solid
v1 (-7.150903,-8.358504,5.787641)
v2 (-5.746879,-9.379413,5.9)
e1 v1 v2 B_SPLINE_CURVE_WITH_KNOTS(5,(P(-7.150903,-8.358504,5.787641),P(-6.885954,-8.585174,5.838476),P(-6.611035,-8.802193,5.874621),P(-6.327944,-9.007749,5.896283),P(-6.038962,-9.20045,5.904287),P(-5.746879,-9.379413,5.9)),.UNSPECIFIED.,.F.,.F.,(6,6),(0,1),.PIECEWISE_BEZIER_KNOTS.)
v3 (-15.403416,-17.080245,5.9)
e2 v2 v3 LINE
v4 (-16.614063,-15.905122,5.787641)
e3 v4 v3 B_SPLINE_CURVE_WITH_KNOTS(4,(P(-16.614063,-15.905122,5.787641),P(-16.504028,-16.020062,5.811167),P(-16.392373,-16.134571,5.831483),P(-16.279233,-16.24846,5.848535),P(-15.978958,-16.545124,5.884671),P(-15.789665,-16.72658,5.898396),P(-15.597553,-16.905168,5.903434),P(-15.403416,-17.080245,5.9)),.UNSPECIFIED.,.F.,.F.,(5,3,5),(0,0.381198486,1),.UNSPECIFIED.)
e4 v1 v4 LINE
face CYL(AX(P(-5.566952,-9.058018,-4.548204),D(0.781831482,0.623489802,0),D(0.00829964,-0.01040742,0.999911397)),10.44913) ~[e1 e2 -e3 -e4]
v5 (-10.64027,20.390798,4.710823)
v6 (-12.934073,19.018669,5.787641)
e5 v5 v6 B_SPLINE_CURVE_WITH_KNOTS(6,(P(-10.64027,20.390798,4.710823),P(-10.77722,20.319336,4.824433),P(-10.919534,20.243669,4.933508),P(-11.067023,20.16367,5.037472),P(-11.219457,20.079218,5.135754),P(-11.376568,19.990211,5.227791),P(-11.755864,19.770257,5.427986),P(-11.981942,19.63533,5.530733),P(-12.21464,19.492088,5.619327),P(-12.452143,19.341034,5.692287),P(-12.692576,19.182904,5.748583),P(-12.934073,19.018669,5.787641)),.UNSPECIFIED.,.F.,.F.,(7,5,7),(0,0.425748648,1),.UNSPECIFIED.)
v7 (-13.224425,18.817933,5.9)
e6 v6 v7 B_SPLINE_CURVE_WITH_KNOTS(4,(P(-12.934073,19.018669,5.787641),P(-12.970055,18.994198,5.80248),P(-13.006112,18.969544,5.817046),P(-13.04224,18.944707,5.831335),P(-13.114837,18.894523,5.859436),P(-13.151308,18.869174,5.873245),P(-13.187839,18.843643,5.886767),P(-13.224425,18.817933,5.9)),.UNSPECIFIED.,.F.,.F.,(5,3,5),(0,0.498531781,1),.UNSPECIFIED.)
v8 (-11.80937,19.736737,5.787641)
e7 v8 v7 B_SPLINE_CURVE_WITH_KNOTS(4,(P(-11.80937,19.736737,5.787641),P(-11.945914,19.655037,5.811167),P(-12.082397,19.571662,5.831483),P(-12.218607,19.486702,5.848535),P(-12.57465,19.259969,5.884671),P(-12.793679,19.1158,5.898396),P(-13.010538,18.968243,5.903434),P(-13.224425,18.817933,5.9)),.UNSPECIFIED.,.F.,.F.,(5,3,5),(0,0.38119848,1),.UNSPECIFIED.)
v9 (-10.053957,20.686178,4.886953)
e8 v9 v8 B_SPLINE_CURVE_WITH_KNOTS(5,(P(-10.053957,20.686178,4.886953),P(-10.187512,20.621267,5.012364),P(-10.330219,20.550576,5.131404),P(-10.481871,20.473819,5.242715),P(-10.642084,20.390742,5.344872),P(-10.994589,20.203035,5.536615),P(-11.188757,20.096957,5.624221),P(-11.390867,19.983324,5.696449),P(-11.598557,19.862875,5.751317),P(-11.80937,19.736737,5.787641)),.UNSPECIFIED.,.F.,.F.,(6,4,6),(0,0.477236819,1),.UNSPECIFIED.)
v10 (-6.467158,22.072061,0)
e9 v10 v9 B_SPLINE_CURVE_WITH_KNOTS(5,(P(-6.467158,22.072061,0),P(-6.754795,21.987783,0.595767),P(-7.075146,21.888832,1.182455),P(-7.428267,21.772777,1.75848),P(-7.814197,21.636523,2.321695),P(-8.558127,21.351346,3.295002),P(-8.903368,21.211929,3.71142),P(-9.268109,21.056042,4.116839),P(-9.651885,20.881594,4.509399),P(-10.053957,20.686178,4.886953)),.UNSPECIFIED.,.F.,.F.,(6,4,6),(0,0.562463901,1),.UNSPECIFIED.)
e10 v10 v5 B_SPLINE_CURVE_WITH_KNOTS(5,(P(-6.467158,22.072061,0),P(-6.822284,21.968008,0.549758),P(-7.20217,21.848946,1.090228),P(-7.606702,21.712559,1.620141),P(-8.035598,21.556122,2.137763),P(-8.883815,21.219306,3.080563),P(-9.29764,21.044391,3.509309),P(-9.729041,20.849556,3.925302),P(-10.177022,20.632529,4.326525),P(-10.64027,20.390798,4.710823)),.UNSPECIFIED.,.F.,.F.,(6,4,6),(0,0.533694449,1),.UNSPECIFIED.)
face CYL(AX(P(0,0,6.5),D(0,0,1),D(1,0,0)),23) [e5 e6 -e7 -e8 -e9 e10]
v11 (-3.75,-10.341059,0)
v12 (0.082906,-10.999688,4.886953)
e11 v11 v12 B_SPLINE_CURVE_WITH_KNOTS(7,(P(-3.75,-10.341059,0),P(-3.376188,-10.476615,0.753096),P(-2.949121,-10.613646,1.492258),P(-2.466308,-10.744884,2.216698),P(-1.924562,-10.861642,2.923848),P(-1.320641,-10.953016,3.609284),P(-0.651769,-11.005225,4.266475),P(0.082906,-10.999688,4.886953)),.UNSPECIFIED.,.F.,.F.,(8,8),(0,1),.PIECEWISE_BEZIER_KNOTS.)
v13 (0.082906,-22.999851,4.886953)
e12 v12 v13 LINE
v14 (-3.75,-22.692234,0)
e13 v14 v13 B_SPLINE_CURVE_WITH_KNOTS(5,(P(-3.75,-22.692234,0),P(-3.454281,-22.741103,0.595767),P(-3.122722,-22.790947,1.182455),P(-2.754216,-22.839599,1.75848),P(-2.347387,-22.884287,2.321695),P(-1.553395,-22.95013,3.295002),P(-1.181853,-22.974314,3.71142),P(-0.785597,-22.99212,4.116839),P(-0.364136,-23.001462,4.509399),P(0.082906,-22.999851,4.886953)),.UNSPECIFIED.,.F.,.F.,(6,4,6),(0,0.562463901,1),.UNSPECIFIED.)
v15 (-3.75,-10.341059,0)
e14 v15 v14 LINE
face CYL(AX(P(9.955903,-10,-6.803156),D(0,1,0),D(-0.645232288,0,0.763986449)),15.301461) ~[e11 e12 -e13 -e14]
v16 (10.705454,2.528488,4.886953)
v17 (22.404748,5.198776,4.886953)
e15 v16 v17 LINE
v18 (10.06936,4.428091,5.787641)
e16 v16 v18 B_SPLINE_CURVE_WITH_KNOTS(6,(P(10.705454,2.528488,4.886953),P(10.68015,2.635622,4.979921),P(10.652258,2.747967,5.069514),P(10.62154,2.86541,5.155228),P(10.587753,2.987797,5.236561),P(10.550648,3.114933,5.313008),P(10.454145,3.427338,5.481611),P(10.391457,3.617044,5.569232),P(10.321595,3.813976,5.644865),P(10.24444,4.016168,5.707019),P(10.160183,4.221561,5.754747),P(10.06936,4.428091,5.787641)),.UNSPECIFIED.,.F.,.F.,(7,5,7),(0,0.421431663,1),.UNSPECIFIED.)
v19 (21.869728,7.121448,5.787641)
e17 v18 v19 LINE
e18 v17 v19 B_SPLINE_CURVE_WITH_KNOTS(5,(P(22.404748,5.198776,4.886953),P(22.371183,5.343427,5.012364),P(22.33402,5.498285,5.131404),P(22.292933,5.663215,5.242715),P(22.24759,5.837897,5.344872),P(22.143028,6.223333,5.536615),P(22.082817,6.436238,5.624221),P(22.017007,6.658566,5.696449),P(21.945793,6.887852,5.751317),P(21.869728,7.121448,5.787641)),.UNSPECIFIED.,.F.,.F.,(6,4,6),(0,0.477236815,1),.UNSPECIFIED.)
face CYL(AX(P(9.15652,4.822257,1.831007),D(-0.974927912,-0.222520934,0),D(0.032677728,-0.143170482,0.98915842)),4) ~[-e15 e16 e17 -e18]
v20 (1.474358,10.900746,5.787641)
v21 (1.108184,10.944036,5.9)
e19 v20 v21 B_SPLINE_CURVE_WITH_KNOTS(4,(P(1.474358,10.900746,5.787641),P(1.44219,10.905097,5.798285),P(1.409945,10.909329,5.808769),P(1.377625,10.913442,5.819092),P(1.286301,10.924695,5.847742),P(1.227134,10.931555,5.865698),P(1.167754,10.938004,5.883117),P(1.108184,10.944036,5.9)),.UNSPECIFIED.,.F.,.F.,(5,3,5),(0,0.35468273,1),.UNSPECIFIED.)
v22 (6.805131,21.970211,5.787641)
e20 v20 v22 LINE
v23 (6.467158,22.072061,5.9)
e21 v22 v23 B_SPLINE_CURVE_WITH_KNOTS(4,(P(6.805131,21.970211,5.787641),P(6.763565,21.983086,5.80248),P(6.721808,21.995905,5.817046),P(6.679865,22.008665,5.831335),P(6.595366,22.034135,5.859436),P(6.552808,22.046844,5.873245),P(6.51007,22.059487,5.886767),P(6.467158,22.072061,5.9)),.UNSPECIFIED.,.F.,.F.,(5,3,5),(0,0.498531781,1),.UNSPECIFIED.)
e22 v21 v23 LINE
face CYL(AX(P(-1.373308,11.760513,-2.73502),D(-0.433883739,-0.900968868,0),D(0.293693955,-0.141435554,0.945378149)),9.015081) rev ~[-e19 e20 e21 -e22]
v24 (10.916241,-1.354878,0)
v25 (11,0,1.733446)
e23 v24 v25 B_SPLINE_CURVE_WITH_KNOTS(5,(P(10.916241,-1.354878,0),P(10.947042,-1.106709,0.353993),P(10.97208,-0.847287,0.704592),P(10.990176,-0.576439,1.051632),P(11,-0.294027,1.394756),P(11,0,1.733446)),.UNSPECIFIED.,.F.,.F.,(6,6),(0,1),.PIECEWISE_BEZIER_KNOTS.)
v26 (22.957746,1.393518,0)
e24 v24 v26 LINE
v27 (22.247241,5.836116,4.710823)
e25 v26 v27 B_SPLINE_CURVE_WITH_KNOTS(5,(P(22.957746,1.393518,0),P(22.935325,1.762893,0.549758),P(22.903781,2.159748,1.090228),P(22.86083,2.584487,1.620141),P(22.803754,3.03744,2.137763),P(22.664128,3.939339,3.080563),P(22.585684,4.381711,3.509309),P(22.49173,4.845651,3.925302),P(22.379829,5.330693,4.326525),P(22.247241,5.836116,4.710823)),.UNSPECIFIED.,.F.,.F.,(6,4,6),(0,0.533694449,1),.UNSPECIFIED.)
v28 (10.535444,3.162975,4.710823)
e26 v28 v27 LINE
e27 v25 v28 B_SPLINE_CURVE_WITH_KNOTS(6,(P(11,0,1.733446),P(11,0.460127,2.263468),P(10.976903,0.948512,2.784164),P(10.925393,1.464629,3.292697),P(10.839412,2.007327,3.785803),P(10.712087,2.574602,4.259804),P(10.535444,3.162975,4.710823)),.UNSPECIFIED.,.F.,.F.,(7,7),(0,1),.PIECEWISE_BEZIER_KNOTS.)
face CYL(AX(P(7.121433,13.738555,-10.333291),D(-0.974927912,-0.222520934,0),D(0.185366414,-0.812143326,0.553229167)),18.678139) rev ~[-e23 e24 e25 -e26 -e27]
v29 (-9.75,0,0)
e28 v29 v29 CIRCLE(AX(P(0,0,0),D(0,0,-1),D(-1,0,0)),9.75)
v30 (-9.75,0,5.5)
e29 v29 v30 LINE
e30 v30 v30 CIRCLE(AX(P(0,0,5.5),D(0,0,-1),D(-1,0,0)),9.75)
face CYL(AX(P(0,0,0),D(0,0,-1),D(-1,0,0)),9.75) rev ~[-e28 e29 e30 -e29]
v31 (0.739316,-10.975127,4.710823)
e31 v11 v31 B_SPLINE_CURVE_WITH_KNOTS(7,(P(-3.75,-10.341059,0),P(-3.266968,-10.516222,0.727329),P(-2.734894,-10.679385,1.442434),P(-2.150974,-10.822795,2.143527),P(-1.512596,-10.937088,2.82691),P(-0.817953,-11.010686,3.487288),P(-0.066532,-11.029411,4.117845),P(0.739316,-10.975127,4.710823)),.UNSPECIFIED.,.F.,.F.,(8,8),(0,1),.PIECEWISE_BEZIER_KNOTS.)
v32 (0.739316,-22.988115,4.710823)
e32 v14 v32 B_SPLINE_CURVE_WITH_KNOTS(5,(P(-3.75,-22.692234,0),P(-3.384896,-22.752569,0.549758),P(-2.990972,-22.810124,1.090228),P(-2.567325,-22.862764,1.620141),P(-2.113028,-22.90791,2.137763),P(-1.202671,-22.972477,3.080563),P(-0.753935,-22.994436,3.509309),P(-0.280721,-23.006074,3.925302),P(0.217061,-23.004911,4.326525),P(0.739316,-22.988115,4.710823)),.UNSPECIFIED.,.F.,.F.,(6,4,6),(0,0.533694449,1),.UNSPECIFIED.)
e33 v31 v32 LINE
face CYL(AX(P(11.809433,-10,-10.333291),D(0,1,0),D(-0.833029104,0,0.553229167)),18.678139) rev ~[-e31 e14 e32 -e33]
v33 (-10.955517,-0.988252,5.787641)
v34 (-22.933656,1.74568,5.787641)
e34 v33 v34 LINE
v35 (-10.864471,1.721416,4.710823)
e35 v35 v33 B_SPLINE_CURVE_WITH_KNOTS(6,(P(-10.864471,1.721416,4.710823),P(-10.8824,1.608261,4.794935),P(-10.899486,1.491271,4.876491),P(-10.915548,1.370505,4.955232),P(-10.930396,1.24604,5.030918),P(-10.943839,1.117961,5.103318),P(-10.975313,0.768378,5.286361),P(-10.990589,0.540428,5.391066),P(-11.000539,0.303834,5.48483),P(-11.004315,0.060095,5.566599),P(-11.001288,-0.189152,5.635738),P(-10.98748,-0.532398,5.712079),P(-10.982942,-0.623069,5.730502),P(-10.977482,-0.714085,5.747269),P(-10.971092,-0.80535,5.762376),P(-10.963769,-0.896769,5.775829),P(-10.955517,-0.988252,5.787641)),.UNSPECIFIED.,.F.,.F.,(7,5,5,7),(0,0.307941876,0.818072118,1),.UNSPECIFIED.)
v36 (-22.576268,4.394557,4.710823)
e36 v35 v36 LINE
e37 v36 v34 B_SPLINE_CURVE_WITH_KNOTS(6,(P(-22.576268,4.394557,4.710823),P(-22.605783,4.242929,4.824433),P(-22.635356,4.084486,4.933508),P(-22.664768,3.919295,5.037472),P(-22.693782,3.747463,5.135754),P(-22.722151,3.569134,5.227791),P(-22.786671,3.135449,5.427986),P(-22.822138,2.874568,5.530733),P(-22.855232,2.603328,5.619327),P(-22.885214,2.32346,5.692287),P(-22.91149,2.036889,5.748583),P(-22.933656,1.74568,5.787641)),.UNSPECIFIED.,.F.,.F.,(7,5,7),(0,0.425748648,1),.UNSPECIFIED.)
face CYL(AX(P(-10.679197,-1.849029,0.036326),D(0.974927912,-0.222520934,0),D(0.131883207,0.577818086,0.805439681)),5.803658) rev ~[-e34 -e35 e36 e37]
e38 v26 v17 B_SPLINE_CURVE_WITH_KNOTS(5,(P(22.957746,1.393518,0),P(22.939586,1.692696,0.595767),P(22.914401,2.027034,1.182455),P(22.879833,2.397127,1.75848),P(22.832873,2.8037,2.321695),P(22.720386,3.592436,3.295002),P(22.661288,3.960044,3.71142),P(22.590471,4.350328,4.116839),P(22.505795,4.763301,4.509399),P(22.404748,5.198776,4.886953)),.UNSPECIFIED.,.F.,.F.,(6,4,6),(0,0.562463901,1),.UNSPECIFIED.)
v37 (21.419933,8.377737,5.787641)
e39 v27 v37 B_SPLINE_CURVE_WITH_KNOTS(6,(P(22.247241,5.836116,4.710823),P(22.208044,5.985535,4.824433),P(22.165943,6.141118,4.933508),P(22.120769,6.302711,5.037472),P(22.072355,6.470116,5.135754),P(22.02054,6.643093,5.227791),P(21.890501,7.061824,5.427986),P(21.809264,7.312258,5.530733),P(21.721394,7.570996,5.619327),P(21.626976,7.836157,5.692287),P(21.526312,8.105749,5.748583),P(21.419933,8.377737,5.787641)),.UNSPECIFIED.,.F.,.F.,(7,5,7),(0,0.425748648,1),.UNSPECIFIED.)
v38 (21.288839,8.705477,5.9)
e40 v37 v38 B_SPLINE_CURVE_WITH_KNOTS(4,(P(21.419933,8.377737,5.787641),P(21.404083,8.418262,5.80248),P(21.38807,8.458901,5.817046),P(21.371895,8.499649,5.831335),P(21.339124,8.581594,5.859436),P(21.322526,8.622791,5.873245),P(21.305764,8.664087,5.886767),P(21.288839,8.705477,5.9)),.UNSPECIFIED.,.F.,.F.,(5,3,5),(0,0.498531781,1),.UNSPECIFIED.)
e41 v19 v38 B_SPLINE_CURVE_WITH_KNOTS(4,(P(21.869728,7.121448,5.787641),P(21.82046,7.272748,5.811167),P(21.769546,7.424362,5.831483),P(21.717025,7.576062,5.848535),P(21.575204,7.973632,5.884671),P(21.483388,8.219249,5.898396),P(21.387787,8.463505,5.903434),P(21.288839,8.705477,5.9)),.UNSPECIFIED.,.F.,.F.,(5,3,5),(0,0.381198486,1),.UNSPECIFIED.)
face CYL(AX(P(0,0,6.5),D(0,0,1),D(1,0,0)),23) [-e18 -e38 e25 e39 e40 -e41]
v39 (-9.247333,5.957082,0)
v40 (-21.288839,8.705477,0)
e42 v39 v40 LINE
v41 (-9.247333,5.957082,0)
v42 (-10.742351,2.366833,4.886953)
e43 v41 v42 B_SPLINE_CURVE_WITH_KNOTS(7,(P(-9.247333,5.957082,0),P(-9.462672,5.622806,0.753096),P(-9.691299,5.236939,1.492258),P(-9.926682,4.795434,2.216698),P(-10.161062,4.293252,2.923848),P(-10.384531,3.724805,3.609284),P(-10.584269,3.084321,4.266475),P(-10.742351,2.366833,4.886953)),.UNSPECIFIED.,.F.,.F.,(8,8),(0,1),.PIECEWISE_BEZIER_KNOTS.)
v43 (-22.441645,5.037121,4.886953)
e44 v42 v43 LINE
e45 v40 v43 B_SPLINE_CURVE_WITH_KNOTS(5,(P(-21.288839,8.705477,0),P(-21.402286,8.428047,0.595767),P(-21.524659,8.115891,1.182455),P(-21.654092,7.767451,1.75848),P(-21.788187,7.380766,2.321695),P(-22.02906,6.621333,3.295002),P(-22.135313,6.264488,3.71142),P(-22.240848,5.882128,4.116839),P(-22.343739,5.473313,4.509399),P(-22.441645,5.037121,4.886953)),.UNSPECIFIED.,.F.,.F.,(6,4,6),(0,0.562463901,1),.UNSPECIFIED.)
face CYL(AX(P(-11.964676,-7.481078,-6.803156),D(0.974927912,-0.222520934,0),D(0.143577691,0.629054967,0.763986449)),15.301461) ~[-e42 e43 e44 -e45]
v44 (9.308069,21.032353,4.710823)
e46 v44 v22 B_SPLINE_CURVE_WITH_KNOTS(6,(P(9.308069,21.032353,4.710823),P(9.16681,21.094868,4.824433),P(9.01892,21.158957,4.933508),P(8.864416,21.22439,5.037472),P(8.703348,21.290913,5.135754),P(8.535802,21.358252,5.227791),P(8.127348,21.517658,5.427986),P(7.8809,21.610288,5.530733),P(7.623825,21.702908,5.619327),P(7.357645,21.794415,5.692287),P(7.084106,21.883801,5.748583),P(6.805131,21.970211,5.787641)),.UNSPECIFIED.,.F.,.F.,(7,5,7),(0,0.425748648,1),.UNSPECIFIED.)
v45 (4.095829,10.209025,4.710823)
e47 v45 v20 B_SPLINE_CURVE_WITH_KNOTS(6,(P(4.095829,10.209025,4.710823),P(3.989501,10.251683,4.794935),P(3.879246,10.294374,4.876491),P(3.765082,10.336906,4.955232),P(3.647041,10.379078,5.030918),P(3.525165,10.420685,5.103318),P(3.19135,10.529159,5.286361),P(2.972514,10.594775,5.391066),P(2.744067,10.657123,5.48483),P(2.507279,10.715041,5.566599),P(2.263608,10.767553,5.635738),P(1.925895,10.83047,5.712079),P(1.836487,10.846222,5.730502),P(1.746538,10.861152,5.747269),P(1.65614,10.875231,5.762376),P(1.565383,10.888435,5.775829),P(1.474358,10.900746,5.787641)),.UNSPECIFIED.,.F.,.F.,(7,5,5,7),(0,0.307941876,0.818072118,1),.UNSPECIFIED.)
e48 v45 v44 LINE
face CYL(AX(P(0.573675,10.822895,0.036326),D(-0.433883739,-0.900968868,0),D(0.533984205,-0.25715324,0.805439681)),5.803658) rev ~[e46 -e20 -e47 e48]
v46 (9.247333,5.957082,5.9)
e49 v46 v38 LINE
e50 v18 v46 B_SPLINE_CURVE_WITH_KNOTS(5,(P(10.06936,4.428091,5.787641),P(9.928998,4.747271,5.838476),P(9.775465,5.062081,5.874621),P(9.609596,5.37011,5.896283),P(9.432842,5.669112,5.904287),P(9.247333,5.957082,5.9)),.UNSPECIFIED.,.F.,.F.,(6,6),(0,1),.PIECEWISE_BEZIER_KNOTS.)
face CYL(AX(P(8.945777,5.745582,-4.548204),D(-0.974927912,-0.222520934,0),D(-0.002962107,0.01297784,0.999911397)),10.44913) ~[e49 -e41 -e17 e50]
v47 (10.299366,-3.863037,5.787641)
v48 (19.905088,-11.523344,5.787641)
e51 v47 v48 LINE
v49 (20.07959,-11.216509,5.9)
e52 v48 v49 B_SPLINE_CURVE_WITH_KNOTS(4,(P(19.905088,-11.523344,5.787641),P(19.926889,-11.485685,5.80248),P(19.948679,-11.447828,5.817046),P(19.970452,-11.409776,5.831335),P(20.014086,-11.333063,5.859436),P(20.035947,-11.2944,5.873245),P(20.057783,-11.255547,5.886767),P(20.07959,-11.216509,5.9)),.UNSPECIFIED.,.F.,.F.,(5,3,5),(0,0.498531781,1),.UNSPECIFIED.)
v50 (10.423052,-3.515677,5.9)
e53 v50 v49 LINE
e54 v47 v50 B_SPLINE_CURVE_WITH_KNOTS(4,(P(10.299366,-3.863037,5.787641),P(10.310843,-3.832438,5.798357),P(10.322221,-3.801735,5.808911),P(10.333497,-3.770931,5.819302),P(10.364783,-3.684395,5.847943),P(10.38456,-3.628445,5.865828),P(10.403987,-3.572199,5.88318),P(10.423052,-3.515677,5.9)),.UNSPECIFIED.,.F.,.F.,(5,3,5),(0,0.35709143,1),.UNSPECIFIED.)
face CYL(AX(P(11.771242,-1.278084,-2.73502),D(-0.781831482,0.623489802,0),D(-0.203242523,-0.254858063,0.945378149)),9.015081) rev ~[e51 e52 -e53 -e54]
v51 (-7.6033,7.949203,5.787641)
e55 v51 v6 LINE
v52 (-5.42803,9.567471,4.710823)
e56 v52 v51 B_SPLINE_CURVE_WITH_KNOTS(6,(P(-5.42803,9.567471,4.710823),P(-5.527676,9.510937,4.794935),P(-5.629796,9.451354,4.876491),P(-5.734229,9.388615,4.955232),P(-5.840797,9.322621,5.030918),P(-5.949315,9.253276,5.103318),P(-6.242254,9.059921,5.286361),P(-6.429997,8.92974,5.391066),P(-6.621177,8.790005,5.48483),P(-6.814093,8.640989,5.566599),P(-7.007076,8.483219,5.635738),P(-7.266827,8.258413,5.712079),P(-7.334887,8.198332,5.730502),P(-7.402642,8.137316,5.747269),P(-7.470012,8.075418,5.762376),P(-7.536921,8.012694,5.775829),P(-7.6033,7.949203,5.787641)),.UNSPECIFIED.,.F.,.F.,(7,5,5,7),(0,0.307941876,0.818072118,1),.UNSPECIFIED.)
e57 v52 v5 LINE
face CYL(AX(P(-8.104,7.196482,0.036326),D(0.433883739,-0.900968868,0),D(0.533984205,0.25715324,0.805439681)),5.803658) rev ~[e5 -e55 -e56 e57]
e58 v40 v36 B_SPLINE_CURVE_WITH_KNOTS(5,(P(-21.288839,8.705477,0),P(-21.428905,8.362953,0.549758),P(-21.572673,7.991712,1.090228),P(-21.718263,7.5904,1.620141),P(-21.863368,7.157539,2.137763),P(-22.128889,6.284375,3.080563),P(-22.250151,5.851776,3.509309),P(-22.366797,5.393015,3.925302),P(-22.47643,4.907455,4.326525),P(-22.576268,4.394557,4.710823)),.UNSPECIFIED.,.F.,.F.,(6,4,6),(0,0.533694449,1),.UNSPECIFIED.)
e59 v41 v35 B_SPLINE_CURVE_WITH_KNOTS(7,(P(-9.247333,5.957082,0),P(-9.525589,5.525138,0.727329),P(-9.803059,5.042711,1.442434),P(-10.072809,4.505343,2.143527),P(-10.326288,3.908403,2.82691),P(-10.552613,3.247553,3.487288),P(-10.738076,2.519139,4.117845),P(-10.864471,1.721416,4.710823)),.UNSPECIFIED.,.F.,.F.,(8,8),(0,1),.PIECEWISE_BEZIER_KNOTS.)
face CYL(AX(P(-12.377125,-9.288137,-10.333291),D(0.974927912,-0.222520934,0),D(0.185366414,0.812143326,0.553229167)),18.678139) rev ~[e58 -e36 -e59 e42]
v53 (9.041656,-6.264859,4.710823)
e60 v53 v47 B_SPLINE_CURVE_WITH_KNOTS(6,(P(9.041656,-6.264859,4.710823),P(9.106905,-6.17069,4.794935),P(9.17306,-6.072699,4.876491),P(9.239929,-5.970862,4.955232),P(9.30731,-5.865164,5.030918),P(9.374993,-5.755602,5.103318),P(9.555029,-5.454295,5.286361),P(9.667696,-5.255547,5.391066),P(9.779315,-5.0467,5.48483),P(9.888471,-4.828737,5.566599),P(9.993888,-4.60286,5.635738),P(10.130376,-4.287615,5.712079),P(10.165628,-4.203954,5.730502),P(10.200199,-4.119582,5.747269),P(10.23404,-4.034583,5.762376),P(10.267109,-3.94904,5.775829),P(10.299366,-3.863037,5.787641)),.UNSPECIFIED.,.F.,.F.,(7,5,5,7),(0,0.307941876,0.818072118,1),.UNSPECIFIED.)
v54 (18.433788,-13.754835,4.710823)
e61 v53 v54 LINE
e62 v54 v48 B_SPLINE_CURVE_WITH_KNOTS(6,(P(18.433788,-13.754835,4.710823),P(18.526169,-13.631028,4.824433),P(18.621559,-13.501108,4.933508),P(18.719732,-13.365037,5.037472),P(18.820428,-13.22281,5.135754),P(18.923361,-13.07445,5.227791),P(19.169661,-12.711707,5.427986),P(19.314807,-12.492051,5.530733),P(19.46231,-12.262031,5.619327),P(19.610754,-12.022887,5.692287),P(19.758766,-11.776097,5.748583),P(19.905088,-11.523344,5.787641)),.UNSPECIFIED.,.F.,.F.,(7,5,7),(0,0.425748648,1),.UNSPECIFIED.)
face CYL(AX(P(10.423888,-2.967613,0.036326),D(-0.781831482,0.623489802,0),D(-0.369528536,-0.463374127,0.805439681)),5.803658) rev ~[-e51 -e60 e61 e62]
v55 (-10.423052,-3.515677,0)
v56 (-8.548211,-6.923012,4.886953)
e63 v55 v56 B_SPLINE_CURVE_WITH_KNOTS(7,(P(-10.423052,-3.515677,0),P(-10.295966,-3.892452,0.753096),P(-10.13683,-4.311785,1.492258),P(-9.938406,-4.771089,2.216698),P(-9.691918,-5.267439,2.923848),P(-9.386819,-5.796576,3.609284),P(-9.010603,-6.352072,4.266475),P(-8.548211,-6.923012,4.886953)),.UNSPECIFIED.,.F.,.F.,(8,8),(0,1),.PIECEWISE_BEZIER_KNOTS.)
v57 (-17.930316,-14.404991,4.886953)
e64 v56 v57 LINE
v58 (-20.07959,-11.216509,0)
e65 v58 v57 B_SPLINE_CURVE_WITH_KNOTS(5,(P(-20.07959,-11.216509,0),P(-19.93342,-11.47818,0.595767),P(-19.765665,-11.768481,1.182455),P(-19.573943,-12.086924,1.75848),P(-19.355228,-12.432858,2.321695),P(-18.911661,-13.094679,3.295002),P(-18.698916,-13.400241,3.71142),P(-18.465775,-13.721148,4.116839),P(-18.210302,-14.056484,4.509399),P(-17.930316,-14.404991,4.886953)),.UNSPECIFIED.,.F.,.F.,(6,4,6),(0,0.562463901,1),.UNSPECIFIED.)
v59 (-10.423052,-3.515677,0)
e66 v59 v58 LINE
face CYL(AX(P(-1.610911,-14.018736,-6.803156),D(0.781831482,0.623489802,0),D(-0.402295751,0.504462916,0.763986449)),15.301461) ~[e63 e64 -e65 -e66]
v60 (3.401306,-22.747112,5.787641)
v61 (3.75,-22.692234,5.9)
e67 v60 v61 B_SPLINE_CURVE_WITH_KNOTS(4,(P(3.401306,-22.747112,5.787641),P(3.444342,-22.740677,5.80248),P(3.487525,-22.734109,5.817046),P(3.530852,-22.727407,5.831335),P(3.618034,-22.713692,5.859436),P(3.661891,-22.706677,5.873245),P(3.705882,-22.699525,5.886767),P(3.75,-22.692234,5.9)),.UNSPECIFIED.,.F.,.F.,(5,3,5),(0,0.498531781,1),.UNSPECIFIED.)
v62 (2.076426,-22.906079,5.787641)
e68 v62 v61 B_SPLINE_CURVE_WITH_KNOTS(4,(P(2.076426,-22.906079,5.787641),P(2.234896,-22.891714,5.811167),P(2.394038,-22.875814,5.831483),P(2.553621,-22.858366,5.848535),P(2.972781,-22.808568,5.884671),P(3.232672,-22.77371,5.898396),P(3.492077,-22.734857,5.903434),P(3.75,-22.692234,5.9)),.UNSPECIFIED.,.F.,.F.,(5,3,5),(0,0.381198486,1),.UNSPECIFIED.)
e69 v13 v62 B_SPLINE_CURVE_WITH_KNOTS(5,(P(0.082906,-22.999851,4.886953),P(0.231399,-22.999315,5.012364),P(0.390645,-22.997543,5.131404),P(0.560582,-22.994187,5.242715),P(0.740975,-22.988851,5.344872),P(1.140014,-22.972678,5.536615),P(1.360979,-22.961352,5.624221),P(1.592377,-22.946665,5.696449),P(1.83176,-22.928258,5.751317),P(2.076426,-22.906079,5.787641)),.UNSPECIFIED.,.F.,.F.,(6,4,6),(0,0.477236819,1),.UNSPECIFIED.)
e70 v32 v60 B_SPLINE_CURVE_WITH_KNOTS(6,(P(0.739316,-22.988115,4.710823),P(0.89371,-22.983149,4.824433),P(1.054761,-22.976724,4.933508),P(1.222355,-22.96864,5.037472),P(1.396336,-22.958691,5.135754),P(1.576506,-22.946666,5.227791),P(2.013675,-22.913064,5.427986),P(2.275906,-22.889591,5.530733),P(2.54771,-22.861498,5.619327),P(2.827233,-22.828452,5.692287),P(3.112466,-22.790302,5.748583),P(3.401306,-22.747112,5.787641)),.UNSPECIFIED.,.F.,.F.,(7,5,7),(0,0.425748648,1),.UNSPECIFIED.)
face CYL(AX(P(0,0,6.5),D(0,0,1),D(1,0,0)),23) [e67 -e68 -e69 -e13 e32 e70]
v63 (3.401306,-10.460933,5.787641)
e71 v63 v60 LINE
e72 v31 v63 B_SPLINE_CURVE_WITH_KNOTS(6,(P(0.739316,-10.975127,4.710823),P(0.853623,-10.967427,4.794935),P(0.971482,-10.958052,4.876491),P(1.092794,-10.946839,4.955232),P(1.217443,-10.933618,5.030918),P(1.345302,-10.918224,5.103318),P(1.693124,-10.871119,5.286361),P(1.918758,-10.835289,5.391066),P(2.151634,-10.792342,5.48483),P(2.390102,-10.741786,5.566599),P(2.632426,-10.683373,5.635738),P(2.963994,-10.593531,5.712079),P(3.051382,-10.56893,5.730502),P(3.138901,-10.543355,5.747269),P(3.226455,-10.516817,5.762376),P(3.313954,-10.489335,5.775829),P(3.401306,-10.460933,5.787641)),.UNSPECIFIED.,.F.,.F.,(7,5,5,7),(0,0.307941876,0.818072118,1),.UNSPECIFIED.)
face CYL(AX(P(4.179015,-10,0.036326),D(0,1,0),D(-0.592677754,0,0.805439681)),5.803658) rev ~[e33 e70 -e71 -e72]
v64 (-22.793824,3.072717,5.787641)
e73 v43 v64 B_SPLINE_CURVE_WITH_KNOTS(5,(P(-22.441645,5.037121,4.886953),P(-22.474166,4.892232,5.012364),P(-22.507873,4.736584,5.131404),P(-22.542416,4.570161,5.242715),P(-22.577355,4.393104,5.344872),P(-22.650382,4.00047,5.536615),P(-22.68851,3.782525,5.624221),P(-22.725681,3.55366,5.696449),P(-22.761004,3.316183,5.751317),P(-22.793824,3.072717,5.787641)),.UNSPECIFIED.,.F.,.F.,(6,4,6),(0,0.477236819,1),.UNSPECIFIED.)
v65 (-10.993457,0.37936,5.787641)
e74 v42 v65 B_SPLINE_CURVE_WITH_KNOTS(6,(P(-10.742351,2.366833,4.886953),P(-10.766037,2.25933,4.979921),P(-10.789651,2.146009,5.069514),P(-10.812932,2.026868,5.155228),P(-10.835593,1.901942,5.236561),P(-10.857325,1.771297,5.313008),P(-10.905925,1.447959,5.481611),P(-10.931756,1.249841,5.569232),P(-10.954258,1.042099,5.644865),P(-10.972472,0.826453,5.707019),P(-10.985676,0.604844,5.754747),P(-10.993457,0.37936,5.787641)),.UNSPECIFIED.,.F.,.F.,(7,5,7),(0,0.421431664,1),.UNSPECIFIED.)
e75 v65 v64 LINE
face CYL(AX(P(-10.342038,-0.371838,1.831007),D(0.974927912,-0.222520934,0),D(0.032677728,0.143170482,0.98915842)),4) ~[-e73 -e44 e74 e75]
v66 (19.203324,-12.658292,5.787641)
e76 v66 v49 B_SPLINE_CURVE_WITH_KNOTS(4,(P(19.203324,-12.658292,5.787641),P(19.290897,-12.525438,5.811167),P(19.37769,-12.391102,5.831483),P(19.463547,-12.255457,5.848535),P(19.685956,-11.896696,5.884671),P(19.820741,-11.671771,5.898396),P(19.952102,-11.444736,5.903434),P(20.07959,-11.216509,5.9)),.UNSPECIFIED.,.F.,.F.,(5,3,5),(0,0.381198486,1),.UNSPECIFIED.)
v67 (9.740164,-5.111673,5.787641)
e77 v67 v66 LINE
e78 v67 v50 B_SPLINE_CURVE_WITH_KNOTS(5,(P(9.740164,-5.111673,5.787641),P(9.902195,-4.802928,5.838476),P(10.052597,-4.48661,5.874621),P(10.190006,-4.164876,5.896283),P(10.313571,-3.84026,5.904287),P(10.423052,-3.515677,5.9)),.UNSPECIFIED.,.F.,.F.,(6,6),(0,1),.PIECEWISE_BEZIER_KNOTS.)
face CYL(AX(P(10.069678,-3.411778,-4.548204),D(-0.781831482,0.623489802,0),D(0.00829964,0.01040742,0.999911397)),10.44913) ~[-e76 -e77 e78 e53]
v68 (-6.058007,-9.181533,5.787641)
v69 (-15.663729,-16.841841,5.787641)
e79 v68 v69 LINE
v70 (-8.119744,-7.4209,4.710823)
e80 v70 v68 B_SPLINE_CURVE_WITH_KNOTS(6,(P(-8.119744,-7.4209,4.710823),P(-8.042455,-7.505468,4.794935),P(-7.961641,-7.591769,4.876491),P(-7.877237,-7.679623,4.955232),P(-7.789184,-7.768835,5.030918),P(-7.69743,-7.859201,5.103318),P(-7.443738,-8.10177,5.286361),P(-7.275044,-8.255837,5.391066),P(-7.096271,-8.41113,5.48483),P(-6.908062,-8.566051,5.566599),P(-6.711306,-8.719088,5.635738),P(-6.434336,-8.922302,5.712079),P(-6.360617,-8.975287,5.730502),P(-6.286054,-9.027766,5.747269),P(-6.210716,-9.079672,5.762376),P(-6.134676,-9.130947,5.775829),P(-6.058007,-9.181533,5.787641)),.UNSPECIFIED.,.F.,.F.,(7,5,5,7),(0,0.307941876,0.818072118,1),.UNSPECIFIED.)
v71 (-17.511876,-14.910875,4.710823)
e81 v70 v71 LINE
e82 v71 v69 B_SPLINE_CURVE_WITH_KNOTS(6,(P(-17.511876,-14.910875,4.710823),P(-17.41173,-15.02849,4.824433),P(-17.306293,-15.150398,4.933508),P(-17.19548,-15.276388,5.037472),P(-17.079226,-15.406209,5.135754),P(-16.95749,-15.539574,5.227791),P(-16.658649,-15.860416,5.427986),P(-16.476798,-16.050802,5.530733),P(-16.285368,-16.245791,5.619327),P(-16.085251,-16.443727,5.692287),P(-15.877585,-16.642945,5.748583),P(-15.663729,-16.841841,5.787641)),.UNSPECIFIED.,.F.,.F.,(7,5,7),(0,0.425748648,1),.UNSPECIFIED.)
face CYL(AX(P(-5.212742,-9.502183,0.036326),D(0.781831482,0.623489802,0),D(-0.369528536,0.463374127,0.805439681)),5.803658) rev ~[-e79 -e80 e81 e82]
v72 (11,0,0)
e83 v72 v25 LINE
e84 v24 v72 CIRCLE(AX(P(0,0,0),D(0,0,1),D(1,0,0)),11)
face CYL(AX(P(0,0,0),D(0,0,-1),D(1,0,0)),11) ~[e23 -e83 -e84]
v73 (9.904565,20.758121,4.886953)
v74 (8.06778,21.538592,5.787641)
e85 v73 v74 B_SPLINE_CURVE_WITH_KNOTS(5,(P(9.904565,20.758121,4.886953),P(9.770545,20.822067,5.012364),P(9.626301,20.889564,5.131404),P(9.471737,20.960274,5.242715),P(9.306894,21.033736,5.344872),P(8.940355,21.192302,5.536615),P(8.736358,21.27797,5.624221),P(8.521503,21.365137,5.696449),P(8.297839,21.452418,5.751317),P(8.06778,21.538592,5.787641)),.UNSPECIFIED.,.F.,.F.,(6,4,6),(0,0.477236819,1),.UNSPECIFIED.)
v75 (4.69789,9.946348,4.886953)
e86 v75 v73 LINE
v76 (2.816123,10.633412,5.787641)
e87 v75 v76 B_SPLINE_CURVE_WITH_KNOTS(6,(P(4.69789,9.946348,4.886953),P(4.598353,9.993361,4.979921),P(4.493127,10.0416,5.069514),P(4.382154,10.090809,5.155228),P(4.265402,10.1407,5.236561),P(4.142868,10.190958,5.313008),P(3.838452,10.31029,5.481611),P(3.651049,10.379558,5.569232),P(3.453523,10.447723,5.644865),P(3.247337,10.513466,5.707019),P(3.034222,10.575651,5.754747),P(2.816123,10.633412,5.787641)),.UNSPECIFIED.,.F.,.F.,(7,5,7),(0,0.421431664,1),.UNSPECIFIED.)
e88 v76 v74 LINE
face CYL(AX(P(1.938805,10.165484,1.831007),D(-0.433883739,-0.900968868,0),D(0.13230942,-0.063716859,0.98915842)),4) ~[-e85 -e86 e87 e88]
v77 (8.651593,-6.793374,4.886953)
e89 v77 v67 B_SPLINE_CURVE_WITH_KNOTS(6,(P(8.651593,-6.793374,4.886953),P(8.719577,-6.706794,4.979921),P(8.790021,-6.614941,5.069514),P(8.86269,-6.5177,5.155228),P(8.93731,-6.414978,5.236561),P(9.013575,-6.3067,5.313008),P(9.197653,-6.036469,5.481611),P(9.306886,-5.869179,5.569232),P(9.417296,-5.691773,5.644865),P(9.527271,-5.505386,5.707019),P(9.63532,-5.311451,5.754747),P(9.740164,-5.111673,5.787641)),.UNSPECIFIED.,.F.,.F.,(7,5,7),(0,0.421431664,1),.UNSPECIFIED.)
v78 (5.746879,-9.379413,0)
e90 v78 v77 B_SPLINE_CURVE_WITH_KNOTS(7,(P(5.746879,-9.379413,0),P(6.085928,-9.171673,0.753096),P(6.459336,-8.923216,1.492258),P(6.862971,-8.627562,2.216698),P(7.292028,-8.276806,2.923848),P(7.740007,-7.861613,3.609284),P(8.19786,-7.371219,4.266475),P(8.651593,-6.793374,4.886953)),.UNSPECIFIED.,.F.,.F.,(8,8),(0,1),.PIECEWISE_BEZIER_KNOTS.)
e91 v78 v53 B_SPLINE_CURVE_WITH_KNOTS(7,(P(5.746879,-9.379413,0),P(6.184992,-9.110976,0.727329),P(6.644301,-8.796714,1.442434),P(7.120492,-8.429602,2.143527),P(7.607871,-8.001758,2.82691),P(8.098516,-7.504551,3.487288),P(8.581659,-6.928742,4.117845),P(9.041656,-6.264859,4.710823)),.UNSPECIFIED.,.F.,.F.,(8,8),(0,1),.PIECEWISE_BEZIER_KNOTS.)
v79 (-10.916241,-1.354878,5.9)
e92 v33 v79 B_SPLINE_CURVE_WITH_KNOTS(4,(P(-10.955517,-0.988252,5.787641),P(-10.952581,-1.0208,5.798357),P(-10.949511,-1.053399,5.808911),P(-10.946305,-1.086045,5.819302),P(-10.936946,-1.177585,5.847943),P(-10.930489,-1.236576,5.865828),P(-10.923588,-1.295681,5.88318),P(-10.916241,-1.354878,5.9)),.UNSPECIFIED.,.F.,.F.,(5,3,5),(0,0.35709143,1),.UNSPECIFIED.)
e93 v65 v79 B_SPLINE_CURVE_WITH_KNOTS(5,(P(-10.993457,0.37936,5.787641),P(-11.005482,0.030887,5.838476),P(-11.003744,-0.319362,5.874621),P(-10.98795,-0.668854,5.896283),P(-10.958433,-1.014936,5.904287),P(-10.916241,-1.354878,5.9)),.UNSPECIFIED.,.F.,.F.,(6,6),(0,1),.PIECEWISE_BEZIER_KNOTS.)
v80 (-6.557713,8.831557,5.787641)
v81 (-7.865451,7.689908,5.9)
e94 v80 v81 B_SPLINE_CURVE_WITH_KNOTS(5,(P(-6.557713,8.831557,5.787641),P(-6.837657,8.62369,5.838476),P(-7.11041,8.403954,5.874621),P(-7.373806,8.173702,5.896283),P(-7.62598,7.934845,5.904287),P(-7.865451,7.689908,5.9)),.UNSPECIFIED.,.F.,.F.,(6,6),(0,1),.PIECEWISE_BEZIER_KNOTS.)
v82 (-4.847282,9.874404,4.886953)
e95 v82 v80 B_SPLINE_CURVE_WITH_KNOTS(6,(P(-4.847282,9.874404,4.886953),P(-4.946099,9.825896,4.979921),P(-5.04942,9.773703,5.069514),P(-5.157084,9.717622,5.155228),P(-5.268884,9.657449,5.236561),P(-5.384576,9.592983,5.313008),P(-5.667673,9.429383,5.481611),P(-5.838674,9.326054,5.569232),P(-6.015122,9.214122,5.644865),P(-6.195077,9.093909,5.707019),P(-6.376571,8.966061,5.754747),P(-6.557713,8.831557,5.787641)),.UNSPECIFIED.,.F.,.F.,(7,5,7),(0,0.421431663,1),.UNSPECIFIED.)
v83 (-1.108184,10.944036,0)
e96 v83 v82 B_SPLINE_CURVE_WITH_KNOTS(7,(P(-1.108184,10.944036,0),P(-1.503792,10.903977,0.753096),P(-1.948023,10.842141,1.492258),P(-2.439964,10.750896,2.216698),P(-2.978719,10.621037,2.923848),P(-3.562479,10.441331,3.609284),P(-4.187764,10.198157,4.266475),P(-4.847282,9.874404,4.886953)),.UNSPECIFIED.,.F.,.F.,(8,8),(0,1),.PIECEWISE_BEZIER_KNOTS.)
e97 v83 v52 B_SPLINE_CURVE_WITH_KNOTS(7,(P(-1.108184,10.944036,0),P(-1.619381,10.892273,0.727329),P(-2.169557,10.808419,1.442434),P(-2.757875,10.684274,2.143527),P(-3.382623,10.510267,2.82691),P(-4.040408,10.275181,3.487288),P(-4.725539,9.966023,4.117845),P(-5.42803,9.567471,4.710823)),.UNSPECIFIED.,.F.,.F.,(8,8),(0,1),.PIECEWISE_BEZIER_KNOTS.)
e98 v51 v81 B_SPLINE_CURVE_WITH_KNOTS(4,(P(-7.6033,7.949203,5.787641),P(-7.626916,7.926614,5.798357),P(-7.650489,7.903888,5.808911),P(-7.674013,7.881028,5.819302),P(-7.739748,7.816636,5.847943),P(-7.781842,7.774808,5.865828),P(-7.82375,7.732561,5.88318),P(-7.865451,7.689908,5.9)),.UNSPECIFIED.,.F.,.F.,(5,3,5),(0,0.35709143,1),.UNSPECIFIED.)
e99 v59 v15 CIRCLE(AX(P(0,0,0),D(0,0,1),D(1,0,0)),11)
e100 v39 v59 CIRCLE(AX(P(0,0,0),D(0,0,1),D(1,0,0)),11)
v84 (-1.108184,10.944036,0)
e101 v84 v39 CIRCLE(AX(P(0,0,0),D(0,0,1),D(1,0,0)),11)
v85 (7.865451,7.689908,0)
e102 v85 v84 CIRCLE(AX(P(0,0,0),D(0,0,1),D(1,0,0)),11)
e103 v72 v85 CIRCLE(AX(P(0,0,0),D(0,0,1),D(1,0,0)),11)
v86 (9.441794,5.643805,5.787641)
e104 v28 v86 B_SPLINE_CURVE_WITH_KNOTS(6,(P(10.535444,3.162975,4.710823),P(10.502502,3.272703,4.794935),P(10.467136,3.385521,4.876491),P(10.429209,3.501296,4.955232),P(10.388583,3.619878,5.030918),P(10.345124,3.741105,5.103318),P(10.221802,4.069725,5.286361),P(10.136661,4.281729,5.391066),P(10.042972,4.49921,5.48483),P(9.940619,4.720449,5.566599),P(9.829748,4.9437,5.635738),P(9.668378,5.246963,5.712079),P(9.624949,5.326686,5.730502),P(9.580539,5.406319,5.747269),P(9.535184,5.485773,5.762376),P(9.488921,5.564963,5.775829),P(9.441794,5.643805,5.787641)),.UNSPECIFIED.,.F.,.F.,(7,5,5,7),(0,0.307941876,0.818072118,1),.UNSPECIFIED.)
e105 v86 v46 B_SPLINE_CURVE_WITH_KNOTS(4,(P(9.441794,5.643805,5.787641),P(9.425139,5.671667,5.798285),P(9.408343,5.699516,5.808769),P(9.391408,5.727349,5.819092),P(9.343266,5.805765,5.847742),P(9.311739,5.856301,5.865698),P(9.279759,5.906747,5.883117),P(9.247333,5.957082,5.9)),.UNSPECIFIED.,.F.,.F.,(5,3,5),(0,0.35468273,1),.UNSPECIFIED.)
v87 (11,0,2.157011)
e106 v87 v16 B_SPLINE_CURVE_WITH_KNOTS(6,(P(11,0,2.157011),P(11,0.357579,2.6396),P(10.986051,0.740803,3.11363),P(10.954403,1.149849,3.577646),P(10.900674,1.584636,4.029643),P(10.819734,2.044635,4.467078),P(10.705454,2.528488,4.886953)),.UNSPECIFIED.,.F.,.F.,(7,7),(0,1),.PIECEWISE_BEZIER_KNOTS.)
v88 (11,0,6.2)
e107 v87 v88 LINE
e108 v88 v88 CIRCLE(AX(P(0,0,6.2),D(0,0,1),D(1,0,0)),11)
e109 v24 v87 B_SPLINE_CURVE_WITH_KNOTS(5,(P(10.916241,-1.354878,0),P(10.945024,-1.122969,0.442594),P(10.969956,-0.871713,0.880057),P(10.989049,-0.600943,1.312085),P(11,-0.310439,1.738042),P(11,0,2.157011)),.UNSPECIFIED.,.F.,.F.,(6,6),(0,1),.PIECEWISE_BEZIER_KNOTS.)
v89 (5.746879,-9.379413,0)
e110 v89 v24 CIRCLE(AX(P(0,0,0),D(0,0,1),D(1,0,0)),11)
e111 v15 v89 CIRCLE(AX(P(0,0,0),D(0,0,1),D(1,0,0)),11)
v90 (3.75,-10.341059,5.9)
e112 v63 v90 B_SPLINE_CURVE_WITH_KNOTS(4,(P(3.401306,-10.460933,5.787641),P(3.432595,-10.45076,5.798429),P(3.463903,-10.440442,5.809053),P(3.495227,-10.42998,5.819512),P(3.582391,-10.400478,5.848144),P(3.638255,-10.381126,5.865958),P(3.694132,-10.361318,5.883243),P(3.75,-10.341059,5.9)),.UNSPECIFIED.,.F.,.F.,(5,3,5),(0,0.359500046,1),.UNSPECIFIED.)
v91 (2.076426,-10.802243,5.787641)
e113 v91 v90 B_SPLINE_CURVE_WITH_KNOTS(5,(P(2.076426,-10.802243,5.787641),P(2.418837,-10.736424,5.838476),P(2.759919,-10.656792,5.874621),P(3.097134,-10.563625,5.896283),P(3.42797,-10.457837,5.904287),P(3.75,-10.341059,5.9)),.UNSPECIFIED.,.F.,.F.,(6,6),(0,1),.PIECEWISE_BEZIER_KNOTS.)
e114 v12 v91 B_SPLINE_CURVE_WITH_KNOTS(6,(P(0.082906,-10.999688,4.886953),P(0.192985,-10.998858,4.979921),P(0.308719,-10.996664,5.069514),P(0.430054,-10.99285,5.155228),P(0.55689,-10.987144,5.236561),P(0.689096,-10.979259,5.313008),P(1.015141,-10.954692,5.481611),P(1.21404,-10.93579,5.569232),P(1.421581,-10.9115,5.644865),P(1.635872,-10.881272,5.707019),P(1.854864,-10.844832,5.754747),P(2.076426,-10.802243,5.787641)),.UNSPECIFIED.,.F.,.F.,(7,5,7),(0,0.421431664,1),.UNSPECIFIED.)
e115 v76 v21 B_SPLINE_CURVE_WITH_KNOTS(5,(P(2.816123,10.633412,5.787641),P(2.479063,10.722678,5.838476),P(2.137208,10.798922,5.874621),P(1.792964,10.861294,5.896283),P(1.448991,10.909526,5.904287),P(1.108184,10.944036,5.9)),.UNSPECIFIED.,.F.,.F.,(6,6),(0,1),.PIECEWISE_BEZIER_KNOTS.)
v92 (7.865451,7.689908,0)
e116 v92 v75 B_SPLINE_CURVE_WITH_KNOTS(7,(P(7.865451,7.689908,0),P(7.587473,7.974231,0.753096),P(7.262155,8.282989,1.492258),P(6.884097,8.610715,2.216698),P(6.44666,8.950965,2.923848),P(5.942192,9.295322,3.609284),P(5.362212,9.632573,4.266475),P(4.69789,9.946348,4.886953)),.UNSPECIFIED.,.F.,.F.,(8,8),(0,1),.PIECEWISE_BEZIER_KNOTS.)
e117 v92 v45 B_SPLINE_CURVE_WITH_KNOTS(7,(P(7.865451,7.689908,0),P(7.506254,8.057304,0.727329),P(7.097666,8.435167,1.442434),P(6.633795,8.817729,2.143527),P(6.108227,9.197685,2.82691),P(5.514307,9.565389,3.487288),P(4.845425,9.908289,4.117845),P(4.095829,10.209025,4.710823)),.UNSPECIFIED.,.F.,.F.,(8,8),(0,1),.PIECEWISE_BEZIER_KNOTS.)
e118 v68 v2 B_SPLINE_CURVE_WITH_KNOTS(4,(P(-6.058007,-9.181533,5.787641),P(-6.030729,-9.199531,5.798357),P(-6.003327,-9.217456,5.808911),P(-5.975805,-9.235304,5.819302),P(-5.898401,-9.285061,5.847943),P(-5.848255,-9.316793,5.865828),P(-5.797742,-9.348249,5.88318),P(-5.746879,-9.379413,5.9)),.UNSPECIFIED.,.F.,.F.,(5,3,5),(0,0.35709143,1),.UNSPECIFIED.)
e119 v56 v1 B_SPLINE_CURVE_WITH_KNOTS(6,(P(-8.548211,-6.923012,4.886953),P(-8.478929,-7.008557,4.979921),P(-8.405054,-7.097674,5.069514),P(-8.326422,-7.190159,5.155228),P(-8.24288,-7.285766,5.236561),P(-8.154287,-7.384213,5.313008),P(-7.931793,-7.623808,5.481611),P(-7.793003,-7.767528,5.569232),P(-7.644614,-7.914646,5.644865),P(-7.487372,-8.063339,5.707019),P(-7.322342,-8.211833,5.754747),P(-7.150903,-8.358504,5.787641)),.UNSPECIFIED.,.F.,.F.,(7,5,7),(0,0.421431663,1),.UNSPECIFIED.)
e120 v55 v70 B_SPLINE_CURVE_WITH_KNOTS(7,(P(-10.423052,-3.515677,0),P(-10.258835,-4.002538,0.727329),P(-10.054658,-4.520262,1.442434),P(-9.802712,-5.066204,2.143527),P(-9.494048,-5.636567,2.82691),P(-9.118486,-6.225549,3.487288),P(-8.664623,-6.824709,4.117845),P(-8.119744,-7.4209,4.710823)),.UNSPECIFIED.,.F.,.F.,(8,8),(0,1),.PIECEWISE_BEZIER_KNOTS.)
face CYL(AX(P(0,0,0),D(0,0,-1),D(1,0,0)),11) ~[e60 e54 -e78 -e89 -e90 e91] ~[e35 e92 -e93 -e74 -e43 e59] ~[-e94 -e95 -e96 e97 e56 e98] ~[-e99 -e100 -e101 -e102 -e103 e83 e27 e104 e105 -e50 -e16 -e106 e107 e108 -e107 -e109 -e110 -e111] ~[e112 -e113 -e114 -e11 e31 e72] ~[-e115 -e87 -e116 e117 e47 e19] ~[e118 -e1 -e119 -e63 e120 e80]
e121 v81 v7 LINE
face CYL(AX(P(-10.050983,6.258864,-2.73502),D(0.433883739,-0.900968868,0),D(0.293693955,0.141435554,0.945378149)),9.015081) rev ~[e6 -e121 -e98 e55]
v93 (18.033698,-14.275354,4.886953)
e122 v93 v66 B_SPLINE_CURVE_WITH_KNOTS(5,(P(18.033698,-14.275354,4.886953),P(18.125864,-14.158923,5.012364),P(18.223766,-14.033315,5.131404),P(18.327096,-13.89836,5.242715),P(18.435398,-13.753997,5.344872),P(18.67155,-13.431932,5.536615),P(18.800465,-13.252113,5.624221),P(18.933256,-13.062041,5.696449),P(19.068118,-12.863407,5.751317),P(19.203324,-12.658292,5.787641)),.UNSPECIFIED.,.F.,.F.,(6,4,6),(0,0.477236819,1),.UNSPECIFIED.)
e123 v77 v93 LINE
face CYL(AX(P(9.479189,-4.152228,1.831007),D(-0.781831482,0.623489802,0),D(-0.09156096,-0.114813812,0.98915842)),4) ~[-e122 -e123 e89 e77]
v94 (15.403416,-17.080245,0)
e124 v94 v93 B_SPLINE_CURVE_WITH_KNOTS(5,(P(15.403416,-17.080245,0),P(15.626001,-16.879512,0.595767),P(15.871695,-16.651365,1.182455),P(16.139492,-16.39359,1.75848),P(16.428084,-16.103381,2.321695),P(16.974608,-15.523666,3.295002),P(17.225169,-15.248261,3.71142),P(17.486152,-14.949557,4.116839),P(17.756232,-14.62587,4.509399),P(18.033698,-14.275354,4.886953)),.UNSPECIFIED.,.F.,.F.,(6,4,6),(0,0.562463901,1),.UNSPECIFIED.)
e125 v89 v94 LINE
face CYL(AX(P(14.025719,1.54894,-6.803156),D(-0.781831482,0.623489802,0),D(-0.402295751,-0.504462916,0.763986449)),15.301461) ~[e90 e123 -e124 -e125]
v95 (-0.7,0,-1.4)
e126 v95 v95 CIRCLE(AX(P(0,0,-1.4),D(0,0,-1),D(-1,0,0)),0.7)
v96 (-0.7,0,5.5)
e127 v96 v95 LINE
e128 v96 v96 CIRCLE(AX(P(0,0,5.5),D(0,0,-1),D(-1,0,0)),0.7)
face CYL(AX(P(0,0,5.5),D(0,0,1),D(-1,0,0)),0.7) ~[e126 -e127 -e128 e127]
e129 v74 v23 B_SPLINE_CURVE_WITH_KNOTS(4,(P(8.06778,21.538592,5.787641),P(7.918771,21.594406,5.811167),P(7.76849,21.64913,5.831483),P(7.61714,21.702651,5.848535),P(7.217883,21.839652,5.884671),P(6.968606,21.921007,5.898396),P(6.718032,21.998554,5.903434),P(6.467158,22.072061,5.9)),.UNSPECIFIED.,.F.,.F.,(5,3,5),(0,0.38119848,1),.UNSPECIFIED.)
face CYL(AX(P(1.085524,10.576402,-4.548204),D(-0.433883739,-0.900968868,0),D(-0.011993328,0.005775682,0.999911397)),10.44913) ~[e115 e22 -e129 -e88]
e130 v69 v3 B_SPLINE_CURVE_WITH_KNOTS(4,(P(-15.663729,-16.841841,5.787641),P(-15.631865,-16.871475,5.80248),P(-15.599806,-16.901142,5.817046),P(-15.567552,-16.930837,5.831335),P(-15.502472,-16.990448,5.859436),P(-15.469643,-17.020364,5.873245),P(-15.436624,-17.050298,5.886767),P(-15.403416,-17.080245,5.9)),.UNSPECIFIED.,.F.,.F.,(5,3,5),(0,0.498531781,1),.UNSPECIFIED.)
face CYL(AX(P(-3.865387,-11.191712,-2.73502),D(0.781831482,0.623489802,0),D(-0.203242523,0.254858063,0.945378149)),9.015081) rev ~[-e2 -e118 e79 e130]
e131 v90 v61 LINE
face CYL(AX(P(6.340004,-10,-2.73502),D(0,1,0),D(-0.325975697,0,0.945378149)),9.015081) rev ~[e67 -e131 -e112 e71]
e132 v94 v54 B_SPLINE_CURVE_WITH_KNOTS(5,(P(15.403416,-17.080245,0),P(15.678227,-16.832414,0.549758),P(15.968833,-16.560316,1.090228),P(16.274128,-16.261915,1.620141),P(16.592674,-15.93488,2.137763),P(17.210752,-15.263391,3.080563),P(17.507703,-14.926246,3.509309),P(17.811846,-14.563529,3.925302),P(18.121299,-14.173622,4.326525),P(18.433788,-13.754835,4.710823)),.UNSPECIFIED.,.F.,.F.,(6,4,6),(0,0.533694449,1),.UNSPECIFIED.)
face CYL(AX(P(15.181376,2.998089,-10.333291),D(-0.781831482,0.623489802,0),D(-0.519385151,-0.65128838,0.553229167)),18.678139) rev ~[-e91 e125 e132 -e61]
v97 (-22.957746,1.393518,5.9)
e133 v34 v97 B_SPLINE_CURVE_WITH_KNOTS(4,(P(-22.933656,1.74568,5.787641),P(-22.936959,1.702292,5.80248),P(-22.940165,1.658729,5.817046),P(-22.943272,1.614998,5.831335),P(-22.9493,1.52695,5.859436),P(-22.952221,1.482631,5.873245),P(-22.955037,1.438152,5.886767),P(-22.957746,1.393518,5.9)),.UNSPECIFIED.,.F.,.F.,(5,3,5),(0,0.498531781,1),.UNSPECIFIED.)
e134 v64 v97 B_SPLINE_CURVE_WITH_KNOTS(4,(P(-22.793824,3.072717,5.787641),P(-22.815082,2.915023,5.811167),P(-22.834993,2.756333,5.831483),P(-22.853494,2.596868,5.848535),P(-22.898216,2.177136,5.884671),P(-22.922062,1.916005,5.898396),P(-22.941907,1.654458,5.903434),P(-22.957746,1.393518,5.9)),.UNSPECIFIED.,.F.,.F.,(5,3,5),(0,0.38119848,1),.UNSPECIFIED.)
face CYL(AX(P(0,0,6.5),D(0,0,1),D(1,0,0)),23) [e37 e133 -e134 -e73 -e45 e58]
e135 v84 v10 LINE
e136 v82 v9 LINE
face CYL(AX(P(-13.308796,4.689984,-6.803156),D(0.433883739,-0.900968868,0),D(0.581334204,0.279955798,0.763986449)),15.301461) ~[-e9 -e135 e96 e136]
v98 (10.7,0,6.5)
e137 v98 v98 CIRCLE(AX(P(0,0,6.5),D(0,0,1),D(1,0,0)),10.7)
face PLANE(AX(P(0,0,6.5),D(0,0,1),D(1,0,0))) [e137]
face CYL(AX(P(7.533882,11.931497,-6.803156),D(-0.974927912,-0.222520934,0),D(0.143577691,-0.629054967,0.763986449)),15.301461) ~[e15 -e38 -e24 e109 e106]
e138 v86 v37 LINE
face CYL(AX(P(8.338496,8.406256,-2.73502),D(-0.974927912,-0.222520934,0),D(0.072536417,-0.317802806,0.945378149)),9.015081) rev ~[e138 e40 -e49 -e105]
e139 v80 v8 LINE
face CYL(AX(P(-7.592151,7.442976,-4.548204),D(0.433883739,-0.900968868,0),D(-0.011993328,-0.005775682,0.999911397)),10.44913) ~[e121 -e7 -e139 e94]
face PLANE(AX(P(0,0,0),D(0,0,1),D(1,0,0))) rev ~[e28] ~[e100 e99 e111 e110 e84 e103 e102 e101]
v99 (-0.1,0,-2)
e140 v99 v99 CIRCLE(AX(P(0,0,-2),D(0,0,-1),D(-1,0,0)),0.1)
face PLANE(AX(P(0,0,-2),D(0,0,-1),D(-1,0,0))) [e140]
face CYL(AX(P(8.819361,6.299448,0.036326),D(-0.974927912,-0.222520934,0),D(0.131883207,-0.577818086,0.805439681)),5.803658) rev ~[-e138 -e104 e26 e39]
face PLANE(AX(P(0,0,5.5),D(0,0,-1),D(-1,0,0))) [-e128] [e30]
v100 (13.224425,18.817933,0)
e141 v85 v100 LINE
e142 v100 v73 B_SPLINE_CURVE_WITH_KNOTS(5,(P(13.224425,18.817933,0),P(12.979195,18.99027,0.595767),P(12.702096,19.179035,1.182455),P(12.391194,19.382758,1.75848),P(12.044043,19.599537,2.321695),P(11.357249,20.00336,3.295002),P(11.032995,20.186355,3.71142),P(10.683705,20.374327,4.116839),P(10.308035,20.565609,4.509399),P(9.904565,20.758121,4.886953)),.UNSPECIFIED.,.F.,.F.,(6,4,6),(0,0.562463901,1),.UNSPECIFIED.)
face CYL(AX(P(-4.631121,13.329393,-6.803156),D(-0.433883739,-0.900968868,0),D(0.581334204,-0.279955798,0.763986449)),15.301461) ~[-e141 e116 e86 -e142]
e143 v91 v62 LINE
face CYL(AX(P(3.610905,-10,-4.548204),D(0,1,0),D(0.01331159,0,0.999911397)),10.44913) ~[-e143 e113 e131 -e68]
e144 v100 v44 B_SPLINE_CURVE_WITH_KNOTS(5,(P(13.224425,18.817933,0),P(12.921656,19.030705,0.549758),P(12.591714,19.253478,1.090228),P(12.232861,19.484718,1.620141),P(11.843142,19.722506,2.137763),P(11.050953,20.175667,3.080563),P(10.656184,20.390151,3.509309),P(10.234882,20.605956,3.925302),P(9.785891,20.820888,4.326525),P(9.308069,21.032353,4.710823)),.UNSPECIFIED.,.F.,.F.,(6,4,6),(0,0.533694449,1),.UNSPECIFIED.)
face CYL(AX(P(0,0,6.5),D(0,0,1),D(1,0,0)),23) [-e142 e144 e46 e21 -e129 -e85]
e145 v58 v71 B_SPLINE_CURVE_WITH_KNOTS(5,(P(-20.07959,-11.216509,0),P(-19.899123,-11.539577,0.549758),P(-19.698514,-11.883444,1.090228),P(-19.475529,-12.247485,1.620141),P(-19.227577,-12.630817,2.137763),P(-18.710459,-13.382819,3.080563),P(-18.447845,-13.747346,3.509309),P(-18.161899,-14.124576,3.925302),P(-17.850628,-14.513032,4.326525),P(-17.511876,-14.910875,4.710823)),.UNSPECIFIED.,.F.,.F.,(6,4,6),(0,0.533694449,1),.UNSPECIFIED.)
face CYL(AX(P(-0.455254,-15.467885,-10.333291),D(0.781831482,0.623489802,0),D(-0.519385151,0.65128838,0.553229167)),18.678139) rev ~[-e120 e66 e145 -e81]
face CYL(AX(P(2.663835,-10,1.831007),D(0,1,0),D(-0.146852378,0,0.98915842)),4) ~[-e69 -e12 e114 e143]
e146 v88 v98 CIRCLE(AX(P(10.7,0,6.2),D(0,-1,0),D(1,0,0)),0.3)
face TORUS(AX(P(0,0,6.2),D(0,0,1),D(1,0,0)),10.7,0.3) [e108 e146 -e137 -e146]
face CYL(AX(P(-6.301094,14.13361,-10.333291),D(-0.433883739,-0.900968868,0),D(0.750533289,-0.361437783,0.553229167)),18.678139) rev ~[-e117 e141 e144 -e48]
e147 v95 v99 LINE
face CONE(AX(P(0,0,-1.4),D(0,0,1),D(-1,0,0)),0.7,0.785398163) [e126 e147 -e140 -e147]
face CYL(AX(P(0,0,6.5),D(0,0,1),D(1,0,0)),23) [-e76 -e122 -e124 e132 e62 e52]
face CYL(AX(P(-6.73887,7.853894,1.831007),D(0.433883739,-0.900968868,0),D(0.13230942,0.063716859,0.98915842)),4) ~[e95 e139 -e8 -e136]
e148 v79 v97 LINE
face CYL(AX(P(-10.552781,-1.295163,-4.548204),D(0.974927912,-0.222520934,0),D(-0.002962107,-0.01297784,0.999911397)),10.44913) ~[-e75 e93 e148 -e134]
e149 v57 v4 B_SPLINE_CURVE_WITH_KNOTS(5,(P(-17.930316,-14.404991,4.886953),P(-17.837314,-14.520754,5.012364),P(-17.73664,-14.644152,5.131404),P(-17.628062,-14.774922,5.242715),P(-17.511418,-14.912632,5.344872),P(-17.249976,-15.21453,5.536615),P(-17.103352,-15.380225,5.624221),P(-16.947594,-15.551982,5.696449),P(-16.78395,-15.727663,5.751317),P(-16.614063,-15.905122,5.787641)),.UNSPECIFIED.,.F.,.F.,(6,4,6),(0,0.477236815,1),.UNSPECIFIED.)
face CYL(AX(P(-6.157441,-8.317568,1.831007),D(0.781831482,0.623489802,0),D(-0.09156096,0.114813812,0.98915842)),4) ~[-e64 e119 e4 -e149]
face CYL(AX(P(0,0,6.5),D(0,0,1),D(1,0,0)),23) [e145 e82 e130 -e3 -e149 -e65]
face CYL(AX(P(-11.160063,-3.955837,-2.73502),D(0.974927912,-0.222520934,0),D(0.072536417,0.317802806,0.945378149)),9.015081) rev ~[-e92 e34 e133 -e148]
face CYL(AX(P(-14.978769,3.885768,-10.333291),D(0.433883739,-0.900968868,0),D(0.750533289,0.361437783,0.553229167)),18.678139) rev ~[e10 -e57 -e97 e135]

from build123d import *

# Parameters (mm, degrees)
SKETCH_1_R               = 11
EXTRUDE_1_DEPTH          = 6.5
SKETCH_2_R               = 9.75
CUT_EXTRUDE_1_DEPTH      = 5.5
SKETCH_3_R               = 0.7
EXTRUDE_2_DEPTH          = 7.5
CHAMFER_1_SIZE           = 0.6
EXTRUDE_START            = -10
EXTRUDE_3_DEPTH          = 23
PATTERN_CIRCULAR_1_COUNT = 7
FILLET_1_R               = 0.3
SKETCH_5_OUTSIDE_W       = 86.532
SKETCH_5_OUTSIDE_H       = 84.877
SKETCH_5_OUTSIDE_R       = 23
CUT_EXTRUDE_2_DEPTH      = 23


with BuildPart() as part:
    # Эскиз1 → Бобышка-Вытянуть1 (new body)
    with BuildSketch(Plane.XY):
        Circle(SKETCH_1_R)
    extrude(amount=EXTRUDE_1_DEPTH)

    # Эскиз2 → Вырез-Вытянуть1 (cut)
    with BuildSketch(Plane(origin=(0, 0, 0), x_dir=(-1, 0, 0), z_dir=(0, 0, -1))):
        Circle(SKETCH_2_R)
    extrude(amount=-CUT_EXTRUDE_1_DEPTH, mode=Mode.SUBTRACT)

    # Эскиз3 → Бобышка-Вытянуть2 (add)
    with BuildSketch(Plane(origin=(0, 0, 5.5), x_dir=(-1, 0, 0), z_dir=(0, 0, -1))):
        Circle(SKETCH_3_R)
    extrude(amount=EXTRUDE_2_DEPTH)

    # Фаска1
    chamfer_1_edges = [part.edges().sort_by_distance(p)[0] for p in [
        (0.7, 0, -2),
    ]]
    chamfer(chamfer_1_edges, length=CHAMFER_1_SIZE)

    # Эскиз4 → Бобышка-Вытянуть3 (add)
    with BuildSketch(Plane(origin=(0, 0, 0), x_dir=(1, 0, 0), z_dir=(0, 1, 0)).offset(EXTRUDE_START)):
        with BuildLine():
            ThreePointArc((3.75, -5.9), (2.910954768, -5.877455841), (2.076425924, -5.787640746))
            ThreePointArc((2.076425924, -5.787640746), (1.016898237, -5.476222818), (0.082906283, -4.886952865))
            ThreePointArc((0.082906283, -4.886952865), (-2.084101368, -2.63998988), (-3.75, 0))
            ThreePointArc((-3.75, 0), (-1.712075741, -2.552424329), (0.739315837, -4.710822941))
            ThreePointArc((0.739315837, -4.710822941), (2.002660979, -5.416468702), (3.40130611, -5.787640746))
            ThreePointArc((3.40130611, -5.787640746), (3.575082247, -5.845591808), (3.75, -5.9))
        make_face()
    extrude_3 = extrude(amount=-EXTRUDE_3_DEPTH)

    # Круговой массив1: Бобышка-Вытянуть3 ×7 about axis
    pattern_circular_1_axis = Axis((0, 0, 6.5), (0, 0, -1))
    for i in range(1, PATTERN_CIRCULAR_1_COUNT):
        add(extrude_3.rotate(pattern_circular_1_axis, i * 360 / PATTERN_CIRCULAR_1_COUNT))

    # Скругление1
    fillet_1_edges = [part.edges().sort_by_distance(p)[0] for p in [
        (-11, 0, 6.5),
    ]]
    fillet(fillet_1_edges, radius=FILLET_1_R)

    # Эскиз5 outside → Вырез-Вытянуть2 (cut)
    with BuildSketch(Plane.XY.offset(6.5)):
        with Locations((0, -0.8205)):
            Rectangle(SKETCH_5_OUTSIDE_W, SKETCH_5_OUTSIDE_H)
        Circle(SKETCH_5_OUTSIDE_R, mode=Mode.SUBTRACT)
    extrude(amount=-CUT_EXTRUDE_2_DEPTH, mode=Mode.SUBTRACT)


solid = part.part
